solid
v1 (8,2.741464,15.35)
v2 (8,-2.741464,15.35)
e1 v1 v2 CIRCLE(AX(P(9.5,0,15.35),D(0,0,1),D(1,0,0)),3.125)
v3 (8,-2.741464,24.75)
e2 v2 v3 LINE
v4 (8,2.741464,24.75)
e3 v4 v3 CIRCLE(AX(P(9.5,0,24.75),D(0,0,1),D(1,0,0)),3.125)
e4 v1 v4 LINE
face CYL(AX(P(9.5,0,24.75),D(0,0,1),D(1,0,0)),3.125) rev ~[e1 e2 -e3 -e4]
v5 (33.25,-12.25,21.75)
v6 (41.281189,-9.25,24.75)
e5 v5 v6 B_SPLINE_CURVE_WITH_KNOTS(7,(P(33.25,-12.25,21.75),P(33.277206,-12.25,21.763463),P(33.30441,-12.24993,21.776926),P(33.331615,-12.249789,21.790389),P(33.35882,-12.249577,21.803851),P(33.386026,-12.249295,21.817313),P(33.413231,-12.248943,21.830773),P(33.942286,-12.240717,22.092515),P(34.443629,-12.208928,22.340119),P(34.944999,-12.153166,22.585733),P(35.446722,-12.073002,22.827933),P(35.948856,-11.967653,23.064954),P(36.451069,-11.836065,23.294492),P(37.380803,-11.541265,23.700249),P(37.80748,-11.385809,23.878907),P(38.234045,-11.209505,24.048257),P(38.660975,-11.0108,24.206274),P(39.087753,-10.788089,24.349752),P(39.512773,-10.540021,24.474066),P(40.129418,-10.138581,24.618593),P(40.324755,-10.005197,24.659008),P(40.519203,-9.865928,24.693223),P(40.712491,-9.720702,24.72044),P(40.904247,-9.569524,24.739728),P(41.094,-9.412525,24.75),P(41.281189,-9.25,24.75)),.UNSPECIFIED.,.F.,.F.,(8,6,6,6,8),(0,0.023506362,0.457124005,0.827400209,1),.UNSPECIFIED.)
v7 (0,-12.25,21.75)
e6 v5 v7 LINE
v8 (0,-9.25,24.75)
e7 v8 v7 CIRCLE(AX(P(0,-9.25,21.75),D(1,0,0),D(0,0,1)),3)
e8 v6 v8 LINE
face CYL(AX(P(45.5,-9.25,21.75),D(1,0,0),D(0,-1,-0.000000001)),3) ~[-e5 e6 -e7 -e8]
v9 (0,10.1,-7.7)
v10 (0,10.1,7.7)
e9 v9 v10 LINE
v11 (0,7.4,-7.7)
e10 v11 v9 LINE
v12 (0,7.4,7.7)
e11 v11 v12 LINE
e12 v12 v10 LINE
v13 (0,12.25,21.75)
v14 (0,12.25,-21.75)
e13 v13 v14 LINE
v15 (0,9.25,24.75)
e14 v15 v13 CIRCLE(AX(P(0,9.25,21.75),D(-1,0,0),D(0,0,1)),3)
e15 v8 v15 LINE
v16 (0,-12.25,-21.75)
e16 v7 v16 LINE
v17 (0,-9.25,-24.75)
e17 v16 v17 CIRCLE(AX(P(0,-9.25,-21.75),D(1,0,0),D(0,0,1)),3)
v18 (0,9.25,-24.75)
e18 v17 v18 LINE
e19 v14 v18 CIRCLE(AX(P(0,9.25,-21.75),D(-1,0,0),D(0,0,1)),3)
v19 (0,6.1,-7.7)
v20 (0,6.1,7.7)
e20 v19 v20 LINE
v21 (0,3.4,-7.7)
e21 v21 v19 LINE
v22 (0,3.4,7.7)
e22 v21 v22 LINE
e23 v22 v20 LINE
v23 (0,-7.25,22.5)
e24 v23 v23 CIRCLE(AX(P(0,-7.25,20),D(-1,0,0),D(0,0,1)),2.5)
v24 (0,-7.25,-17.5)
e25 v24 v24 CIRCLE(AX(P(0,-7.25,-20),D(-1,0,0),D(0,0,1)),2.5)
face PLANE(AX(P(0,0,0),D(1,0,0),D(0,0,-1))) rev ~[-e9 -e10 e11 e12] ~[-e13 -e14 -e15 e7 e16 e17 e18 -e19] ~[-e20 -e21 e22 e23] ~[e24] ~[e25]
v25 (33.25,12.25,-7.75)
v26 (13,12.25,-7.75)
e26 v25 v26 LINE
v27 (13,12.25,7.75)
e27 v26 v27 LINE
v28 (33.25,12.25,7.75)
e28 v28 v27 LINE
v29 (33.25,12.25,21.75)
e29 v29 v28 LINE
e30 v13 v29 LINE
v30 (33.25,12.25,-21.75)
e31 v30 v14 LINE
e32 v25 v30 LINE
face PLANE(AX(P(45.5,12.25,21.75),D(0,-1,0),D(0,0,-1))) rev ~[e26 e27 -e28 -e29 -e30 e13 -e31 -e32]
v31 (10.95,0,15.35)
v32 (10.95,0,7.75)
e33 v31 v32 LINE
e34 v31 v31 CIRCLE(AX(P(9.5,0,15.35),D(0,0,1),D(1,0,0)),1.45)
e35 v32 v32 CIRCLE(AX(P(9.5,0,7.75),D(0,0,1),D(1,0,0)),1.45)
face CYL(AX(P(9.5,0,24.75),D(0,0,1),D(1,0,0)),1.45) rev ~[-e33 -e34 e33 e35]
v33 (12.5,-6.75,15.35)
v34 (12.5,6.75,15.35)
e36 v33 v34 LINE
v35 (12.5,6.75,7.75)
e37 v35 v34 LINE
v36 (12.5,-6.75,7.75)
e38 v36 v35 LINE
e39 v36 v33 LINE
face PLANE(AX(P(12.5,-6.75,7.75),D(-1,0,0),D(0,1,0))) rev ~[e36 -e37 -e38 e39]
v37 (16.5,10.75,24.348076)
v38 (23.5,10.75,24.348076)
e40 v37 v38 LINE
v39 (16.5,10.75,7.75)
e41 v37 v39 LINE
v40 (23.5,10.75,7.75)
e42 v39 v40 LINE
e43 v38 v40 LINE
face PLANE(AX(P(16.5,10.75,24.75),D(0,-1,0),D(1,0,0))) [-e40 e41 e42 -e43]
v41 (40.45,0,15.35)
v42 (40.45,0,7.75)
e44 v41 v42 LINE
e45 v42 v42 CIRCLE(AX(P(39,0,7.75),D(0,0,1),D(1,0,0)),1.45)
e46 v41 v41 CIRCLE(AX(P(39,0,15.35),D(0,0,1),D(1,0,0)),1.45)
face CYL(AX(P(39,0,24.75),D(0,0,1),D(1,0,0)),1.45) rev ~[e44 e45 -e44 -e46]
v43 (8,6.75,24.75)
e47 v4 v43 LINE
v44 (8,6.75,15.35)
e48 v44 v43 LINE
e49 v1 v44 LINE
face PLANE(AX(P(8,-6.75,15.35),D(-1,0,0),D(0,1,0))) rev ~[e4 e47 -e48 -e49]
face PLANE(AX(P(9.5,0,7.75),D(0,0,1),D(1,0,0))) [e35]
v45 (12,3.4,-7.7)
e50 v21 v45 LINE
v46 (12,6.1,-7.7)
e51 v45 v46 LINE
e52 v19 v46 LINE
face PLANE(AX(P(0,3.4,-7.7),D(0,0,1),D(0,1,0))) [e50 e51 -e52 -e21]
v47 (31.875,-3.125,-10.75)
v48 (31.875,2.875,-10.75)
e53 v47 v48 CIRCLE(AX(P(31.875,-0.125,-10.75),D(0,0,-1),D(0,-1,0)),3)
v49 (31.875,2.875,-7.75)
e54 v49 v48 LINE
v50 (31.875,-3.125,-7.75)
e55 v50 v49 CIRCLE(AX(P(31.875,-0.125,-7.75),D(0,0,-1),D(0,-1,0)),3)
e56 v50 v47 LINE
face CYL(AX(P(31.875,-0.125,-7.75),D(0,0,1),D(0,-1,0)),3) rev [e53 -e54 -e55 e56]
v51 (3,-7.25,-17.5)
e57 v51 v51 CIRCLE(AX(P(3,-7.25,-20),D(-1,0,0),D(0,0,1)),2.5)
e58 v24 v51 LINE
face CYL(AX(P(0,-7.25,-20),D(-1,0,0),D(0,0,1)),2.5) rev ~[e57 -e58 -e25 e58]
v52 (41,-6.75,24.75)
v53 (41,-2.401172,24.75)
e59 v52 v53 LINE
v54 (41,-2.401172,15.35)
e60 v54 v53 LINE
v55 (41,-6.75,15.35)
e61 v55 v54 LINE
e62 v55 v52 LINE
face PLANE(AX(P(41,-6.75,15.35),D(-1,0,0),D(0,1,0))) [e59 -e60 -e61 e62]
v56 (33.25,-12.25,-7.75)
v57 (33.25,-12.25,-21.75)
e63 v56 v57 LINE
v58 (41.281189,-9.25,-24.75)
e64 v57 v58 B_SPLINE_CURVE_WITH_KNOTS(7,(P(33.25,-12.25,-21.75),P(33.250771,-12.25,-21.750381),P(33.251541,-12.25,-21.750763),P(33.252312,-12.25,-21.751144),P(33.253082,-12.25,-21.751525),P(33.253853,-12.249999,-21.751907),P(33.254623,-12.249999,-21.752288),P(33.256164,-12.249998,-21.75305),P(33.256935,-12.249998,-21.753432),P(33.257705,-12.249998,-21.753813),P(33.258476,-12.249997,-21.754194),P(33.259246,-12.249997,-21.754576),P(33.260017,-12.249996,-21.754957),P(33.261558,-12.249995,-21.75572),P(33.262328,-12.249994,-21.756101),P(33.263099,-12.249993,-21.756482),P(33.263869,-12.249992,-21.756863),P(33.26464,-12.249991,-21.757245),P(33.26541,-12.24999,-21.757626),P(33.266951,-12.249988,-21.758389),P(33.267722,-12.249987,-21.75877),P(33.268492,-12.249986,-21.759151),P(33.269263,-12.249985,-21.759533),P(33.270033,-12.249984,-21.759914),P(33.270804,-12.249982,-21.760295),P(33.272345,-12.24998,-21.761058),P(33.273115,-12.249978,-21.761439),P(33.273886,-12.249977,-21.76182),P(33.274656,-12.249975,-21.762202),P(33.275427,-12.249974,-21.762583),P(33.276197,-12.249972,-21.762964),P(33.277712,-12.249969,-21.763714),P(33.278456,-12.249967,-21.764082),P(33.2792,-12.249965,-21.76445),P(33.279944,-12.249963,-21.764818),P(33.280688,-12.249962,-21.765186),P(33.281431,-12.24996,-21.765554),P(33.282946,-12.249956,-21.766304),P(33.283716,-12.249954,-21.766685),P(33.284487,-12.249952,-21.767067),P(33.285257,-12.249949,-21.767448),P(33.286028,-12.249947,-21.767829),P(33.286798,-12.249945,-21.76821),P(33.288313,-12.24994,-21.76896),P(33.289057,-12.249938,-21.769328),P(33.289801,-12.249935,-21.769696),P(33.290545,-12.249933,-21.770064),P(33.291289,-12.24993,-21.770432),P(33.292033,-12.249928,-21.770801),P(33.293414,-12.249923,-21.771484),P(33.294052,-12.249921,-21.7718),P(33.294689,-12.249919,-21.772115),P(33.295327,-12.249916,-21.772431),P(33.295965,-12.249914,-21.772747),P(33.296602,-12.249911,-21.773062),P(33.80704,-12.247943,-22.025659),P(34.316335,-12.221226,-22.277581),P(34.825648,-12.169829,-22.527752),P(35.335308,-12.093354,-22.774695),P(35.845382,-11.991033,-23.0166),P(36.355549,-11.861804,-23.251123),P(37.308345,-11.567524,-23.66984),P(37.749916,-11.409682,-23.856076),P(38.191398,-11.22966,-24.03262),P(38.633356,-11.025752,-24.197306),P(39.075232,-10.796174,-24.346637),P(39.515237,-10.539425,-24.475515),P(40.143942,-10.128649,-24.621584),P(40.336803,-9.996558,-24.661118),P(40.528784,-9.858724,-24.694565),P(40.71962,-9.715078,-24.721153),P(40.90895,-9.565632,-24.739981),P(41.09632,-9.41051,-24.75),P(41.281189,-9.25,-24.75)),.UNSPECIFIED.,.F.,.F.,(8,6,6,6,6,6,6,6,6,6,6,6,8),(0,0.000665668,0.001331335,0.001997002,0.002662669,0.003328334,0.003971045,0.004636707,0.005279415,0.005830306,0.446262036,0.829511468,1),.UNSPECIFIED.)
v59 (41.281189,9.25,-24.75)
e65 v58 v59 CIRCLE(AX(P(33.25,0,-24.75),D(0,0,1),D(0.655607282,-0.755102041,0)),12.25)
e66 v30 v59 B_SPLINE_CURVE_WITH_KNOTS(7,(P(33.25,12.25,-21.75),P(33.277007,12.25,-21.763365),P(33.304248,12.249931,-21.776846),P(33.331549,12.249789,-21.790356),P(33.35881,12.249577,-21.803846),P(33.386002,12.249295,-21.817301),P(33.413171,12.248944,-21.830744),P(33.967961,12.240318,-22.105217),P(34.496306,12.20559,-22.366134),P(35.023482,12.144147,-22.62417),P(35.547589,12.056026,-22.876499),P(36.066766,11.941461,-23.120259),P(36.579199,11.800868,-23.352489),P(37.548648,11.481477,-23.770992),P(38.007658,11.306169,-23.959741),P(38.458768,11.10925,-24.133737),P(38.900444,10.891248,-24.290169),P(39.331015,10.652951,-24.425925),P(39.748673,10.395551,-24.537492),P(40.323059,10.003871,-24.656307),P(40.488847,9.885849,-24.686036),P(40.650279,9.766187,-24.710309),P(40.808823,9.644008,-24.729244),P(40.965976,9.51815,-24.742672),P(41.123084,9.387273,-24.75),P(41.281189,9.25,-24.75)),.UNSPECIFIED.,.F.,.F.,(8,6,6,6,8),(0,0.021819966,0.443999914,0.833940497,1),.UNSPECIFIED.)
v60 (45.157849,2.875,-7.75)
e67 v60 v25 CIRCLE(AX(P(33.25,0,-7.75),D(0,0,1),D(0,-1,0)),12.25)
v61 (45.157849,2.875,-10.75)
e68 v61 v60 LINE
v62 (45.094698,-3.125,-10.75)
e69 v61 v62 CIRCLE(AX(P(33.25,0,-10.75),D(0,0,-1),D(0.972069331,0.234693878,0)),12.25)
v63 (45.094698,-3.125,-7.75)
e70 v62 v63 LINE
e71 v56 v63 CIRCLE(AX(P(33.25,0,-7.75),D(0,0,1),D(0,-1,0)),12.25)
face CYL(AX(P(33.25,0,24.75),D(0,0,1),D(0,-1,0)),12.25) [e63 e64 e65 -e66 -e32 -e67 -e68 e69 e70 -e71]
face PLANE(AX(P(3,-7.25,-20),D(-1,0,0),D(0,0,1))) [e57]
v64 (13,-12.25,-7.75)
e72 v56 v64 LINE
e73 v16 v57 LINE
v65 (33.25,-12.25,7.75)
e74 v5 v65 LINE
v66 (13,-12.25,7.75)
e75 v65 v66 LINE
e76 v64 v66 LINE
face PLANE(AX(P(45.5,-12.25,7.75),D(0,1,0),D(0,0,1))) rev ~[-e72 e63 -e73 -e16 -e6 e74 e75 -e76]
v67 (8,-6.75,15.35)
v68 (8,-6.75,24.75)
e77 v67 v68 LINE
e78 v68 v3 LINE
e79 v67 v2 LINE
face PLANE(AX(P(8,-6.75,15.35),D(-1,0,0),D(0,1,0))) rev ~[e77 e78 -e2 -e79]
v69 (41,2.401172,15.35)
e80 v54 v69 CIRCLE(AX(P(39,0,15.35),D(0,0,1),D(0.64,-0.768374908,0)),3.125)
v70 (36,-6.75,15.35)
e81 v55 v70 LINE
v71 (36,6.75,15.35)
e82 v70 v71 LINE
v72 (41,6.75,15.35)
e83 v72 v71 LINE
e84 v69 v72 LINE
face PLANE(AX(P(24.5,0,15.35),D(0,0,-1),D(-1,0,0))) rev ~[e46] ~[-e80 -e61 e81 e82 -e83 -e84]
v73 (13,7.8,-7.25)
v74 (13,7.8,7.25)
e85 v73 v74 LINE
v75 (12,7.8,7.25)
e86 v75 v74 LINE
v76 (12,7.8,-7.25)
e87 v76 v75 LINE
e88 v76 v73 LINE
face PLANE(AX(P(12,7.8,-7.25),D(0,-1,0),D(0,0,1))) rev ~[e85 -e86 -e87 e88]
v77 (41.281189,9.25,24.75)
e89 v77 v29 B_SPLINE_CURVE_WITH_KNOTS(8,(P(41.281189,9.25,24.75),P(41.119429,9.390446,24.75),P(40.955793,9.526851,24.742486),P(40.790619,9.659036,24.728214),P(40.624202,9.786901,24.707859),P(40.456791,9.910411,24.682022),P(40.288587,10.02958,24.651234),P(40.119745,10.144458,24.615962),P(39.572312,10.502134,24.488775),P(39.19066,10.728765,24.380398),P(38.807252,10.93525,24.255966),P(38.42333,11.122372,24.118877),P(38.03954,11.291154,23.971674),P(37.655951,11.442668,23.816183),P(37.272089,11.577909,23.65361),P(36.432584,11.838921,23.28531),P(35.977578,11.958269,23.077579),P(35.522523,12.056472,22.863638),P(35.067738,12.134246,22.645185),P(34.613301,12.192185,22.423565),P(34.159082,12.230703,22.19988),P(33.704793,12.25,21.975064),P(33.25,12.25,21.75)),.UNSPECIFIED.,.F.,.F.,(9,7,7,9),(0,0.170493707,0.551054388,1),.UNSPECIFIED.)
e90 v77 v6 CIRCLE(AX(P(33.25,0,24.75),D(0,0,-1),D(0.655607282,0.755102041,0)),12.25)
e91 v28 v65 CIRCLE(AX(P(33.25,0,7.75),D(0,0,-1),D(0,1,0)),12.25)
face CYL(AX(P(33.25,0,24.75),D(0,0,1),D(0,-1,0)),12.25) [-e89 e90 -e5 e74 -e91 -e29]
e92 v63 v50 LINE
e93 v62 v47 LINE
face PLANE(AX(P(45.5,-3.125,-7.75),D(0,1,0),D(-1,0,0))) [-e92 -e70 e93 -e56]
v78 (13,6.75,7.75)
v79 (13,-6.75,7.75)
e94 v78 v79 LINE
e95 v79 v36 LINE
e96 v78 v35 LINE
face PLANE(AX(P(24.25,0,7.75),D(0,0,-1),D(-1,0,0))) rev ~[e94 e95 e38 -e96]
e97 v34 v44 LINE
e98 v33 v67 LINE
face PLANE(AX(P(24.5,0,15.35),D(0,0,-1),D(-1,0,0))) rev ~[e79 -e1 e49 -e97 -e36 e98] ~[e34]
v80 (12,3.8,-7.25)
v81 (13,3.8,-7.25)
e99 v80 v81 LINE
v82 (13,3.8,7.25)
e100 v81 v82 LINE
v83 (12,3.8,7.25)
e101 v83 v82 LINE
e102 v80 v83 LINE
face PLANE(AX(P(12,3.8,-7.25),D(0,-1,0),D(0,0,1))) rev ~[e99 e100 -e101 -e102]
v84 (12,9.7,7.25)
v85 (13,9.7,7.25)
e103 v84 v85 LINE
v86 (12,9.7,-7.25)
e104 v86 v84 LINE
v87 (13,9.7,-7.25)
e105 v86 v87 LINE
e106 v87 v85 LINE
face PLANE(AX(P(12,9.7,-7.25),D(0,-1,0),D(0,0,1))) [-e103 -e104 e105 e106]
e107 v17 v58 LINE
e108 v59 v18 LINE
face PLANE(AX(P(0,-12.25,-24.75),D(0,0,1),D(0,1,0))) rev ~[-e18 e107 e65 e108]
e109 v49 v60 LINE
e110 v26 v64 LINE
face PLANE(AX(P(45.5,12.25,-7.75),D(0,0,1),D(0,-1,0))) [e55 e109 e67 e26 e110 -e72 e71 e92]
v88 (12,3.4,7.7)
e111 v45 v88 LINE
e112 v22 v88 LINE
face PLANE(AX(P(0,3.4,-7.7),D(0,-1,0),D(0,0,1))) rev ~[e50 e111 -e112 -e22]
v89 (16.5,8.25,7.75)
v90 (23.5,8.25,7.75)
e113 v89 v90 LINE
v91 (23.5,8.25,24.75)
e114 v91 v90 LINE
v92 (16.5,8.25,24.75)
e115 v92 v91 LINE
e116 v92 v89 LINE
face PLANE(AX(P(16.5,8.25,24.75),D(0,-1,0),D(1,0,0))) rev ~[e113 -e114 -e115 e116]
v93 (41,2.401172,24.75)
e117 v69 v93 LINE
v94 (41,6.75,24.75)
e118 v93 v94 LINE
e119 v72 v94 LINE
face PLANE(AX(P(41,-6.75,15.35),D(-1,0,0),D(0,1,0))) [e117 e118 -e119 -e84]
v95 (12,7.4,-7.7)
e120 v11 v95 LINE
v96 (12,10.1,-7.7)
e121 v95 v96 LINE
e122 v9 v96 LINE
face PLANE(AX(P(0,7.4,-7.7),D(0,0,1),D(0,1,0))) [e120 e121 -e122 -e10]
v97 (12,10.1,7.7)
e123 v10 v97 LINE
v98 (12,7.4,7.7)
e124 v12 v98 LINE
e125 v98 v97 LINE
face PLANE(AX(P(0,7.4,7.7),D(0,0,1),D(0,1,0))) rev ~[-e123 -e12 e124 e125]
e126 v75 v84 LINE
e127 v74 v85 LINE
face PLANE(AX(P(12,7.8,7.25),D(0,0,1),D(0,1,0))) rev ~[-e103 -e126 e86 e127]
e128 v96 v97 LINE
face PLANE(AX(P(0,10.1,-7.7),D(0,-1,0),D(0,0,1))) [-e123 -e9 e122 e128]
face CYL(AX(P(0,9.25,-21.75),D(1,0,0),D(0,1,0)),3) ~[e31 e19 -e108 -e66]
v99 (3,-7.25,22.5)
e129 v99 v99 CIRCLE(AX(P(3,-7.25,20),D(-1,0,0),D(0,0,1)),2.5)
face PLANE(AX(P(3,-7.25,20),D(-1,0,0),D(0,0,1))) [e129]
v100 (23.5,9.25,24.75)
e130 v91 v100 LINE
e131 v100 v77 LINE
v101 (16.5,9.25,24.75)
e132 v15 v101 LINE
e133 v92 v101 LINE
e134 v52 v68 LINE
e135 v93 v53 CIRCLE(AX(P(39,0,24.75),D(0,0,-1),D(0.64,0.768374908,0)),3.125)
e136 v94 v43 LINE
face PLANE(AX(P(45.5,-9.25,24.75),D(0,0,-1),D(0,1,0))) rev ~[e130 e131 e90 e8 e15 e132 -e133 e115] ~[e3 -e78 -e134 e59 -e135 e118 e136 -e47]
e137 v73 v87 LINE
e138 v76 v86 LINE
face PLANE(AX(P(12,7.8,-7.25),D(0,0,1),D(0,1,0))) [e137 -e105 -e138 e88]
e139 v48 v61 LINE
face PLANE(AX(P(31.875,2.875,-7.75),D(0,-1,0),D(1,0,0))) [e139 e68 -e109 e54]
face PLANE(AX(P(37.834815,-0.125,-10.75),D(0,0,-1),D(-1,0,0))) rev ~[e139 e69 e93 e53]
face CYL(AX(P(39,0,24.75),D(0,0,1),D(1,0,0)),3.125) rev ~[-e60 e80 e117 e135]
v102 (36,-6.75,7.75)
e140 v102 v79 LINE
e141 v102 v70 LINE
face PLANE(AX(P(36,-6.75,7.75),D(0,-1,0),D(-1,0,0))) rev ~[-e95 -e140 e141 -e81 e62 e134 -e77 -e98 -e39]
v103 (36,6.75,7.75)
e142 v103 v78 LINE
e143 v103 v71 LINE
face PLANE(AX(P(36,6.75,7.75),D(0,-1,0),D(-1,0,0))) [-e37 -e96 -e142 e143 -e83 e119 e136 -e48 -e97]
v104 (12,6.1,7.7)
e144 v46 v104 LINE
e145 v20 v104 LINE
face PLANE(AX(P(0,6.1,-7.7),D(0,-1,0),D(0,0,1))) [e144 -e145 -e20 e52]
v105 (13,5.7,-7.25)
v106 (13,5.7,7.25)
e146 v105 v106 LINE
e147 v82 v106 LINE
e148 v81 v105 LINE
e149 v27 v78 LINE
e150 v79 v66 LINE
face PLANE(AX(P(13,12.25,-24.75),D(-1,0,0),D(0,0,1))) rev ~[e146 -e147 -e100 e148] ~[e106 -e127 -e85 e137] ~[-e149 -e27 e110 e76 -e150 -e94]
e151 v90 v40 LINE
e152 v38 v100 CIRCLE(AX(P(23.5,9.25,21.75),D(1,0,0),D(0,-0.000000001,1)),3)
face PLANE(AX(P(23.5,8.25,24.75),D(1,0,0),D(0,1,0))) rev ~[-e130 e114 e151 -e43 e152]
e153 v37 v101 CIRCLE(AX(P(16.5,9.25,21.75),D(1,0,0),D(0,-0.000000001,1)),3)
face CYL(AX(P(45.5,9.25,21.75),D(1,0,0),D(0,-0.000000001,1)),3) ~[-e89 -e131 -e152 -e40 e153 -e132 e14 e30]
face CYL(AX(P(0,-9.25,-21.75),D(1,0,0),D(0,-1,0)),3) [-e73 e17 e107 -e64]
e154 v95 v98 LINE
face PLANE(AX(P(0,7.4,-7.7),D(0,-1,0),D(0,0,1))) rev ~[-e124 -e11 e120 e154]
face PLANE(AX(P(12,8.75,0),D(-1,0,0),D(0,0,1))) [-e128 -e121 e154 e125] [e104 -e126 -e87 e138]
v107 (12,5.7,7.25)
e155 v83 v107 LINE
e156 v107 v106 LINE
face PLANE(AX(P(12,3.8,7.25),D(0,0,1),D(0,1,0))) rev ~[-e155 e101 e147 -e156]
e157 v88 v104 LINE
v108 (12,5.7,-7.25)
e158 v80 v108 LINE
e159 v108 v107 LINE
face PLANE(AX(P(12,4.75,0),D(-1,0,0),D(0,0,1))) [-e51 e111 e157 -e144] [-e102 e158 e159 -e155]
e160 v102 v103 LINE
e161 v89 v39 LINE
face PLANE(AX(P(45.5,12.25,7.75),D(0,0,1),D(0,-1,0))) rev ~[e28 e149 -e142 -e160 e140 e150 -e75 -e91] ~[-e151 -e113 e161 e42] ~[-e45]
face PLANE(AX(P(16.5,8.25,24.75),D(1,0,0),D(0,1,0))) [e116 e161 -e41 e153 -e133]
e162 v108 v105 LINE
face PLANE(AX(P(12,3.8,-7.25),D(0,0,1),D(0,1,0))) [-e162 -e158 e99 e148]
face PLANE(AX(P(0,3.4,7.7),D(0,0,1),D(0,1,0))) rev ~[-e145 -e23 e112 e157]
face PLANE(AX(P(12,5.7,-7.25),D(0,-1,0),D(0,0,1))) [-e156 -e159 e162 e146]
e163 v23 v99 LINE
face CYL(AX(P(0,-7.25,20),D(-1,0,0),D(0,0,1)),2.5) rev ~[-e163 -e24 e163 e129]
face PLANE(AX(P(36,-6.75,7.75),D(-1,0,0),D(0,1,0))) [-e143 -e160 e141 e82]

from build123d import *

# Parameters (mm, degrees)
SKETCH_1_W           = 49.5
SKETCH_1_H           = 24.5
EXTRUDE_1_DEPTH      = 36
SKETCH_2_R           = 2.5
CUT_EXTRUDE_1_DEPTH  = 3
SKETCH_3_W           = 15.4
SKETCH_3_H           = 2.7
CUT_EXTRUDE_2_DEPTH  = 12
SKETCH_9_W           = 23
SKETCH_9_H           = 49.5
CUT_EXTRUDE_9_DEPTH  = 24.5
SKETCH_11_W          = 14.5
SKETCH_11_H          = 1.9
CUT_EXTRUDE_8_DEPTH  = 2
FILLET_1_R           = 3
EXTRUDE_START        = 32.5
EXTRUDE_2_DEPTH      = 32.5
SKETCH_13_W          = 23.5
SKETCH_13_H          = 13.5
CUT_EXTRUDE_10_DEPTH = 7.6
SKETCH_14_W          = 33
SKETCH_14_H          = 13.5
CUT_EXTRUDE_11_DEPTH = 9.4
SKETCH_16_R          = 1.45
CUT_EXTRUDE_12_DEPTH = 17
SKETCH_17_R          = 3.125
CUT_EXTRUDE_13_DEPTH = 9.4
CUT_EXTRUDE_14_DEPTH = 3
CUT_EXTRUDE_START    = -49.5
CUT_EXTRUDE_15_DEPTH = 49.5
SKETCH_20_W          = 7
SKETCH_20_H          = 2.5
CUT_EXTRUDE_16_DEPTH = 19


with BuildPart() as part:
    # Эскиз1 → Бобышка-Вытянуть1 (new body)
    with BuildSketch(Plane(origin=(0, 0, 0), x_dir=(0, 0, -1), z_dir=(1, 0, 0))):
        Rectangle(SKETCH_1_W, SKETCH_1_H)
    extrude(amount=EXTRUDE_1_DEPTH)

    # Эскиз2 → Вырез-Вытянуть1 (cut)
    with BuildSketch(Plane.ZY):
        with Locations((-20, -7.25)):
            Circle(SKETCH_2_R)
        with Locations((20, -7.25)):
            Circle(SKETCH_2_R)
    extrude(amount=-CUT_EXTRUDE_1_DEPTH, mode=Mode.SUBTRACT)

    # Эскиз3 → Вырез-Вытянуть2 (cut)
    with BuildSketch(Plane.ZY):
        with Locations((0, 4.75)):
            Rectangle(SKETCH_3_W, SKETCH_3_H)
        with Locations((0, 8.75)):
            Rectangle(SKETCH_3_W, SKETCH_3_H)
    extrude(amount=-CUT_EXTRUDE_2_DEPTH, mode=Mode.SUBTRACT)

    # Эскиз9 → Вырез-Вытянуть9 (cut)
    with BuildSketch(Plane.XZ.offset(-12.25)):
        with Locations((24.5, 0)):
            Rectangle(SKETCH_9_W, SKETCH_9_H)
    extrude(amount=CUT_EXTRUDE_9_DEPTH, mode=Mode.SUBTRACT)

    # Эскиз11 → Вырез-Вытянуть8 (cut)
    with BuildSketch(Plane.ZY.offset(-12)):
        with Locations((0, 8.75)):
            Rectangle(SKETCH_11_W, SKETCH_11_H)
        with Locations((0, 4.75)):
            Rectangle(SKETCH_11_W, SKETCH_11_H)
    extrude(amount=-CUT_EXTRUDE_8_DEPTH, mode=Mode.SUBTRACT)

    # Скругление1
    fillet_1_edges = [part.edges().sort_by_distance(p)[0] for p in [
        (6.5, 12.25, -24.75),
        (6.5, -12.25, -24.75),
        (6.5, -12.25, 24.75),
        (6.5, 12.25, 24.75),
    ]]
    fillet(fillet_1_edges, radius=FILLET_1_R)

    # Эскиз12 → Бобышка-Вытянуть2 (add)
    with BuildSketch(Plane(origin=(13, 0, 0), x_dir=(0, 0, -1), z_dir=(1, 0, 0)).offset(EXTRUDE_START)):
        with BuildLine():
            Line((-7.75, 12.25), (-7.75, -12.25))
            Line((-7.75, -12.25), (-21.75, -12.25))
            ThreePointArc((-21.75, -12.25), (-23.871320344, -11.371320344), (-24.75, -9.25))
            Line((-24.75, -9.25), (-24.75, 9.25))
            ThreePointArc((-24.75, 9.25), (-23.871320344, 11.371320344), (-21.75, 12.25))
            Line((-21.75, 12.25), (-7.75, 12.25))
        make_face()
        with BuildLine():
            Line((21.75, 12.25), (7.75, 12.25))
            Line((7.75, 12.25), (7.75, -12.25))
            Line((7.75, -12.25), (21.75, -12.25))
            ThreePointArc((21.75, -12.25), (23.871320344, -11.371320344), (24.75, -9.25))
            Line((24.75, -9.25), (24.75, 9.25))
            ThreePointArc((24.75, 9.25), (23.871320344, 11.371320344), (21.75, 12.25))
        make_face()
    extrude(amount=-EXTRUDE_2_DEPTH)

    # Эскиз13 → Вырез-Вытянуть10 (cut)
    with BuildSketch(Plane(origin=(0, 0, 7.75), x_dir=(-1, 0, 0), z_dir=(0, 0, -1))):
        with Locations((-24.25, 0)):
            Rectangle(SKETCH_13_W, SKETCH_13_H)
    extrude(amount=-CUT_EXTRUDE_10_DEPTH, mode=Mode.SUBTRACT)

    # Эскиз14 → Вырез-Вытянуть11 (cut)
    with BuildSketch(Plane(origin=(0, 0, 15.35), x_dir=(-1, 0, 0), z_dir=(0, 0, -1))):
        with Locations((-24.5, 0)):
            Rectangle(SKETCH_14_W, SKETCH_14_H)
    extrude(amount=-CUT_EXTRUDE_11_DEPTH, mode=Mode.SUBTRACT)

    # Эскиз16 → Вырез-Вытянуть12 (cut)
    with BuildSketch(Plane.XY.offset(24.75)):
        with Locations((9.5, 0)):
            Circle(SKETCH_16_R)
        with Locations((39, 0)):
            Circle(SKETCH_16_R)
    extrude(amount=-CUT_EXTRUDE_12_DEPTH, mode=Mode.SUBTRACT)

    # Эскиз17 → Вырез-Вытянуть13 (cut)
    with BuildSketch(Plane.XY.offset(24.75)):
        with Locations((9.5, 0)):
            Circle(SKETCH_17_R)
        with Locations((39, 0)):
            Circle(SKETCH_17_R)
    extrude(amount=-CUT_EXTRUDE_13_DEPTH, mode=Mode.SUBTRACT)

    # Эскиз18 → Вырез-Вытянуть14 (cut)
    with BuildSketch(Plane.XY.offset(-7.75)):
        with BuildLine():
            Line((31.875, 2.875), (45.5, 2.875))
            Line((45.5, 2.875), (45.5, -3.125))
            Line((45.5, -3.125), (31.875, -3.125))
            ThreePointArc((31.875, -3.125), (28.875, -0.125), (31.875, 2.875))
        make_face()
    extrude(amount=-CUT_EXTRUDE_14_DEPTH, mode=Mode.SUBTRACT)

    # Эскиз19 → Вырез-Вытянуть15 (cut)
    with BuildSketch(Plane(origin=(0, 0, -24.75), x_dir=(-1, 0, 0), z_dir=(0, 0, -1)).offset(CUT_EXTRUDE_START)):
        with BuildLine():
            Line((-33.25, 12.25), (-46.5, 12.25))
            Line((-46.5, 12.25), (-46.5, -12.25))
            Line((-46.5, -12.25), (-33.25, -12.25))
            ThreePointArc((-33.25, -12.25), (-45.5, 0), (-33.25, 12.25))
        make_face()
    extrude(amount=CUT_EXTRUDE_15_DEPTH, mode=Mode.SUBTRACT)

    # Эскиз20 → Вырез-Вытянуть16 (cut)
    with BuildSketch(Plane.XY.offset(24.75)):
        with Locations((20, 9.5)):
            Rectangle(SKETCH_20_W, SKETCH_20_H)
    extrude(amount=-CUT_EXTRUDE_16_DEPTH, mode=Mode.SUBTRACT)


solid = part.part
